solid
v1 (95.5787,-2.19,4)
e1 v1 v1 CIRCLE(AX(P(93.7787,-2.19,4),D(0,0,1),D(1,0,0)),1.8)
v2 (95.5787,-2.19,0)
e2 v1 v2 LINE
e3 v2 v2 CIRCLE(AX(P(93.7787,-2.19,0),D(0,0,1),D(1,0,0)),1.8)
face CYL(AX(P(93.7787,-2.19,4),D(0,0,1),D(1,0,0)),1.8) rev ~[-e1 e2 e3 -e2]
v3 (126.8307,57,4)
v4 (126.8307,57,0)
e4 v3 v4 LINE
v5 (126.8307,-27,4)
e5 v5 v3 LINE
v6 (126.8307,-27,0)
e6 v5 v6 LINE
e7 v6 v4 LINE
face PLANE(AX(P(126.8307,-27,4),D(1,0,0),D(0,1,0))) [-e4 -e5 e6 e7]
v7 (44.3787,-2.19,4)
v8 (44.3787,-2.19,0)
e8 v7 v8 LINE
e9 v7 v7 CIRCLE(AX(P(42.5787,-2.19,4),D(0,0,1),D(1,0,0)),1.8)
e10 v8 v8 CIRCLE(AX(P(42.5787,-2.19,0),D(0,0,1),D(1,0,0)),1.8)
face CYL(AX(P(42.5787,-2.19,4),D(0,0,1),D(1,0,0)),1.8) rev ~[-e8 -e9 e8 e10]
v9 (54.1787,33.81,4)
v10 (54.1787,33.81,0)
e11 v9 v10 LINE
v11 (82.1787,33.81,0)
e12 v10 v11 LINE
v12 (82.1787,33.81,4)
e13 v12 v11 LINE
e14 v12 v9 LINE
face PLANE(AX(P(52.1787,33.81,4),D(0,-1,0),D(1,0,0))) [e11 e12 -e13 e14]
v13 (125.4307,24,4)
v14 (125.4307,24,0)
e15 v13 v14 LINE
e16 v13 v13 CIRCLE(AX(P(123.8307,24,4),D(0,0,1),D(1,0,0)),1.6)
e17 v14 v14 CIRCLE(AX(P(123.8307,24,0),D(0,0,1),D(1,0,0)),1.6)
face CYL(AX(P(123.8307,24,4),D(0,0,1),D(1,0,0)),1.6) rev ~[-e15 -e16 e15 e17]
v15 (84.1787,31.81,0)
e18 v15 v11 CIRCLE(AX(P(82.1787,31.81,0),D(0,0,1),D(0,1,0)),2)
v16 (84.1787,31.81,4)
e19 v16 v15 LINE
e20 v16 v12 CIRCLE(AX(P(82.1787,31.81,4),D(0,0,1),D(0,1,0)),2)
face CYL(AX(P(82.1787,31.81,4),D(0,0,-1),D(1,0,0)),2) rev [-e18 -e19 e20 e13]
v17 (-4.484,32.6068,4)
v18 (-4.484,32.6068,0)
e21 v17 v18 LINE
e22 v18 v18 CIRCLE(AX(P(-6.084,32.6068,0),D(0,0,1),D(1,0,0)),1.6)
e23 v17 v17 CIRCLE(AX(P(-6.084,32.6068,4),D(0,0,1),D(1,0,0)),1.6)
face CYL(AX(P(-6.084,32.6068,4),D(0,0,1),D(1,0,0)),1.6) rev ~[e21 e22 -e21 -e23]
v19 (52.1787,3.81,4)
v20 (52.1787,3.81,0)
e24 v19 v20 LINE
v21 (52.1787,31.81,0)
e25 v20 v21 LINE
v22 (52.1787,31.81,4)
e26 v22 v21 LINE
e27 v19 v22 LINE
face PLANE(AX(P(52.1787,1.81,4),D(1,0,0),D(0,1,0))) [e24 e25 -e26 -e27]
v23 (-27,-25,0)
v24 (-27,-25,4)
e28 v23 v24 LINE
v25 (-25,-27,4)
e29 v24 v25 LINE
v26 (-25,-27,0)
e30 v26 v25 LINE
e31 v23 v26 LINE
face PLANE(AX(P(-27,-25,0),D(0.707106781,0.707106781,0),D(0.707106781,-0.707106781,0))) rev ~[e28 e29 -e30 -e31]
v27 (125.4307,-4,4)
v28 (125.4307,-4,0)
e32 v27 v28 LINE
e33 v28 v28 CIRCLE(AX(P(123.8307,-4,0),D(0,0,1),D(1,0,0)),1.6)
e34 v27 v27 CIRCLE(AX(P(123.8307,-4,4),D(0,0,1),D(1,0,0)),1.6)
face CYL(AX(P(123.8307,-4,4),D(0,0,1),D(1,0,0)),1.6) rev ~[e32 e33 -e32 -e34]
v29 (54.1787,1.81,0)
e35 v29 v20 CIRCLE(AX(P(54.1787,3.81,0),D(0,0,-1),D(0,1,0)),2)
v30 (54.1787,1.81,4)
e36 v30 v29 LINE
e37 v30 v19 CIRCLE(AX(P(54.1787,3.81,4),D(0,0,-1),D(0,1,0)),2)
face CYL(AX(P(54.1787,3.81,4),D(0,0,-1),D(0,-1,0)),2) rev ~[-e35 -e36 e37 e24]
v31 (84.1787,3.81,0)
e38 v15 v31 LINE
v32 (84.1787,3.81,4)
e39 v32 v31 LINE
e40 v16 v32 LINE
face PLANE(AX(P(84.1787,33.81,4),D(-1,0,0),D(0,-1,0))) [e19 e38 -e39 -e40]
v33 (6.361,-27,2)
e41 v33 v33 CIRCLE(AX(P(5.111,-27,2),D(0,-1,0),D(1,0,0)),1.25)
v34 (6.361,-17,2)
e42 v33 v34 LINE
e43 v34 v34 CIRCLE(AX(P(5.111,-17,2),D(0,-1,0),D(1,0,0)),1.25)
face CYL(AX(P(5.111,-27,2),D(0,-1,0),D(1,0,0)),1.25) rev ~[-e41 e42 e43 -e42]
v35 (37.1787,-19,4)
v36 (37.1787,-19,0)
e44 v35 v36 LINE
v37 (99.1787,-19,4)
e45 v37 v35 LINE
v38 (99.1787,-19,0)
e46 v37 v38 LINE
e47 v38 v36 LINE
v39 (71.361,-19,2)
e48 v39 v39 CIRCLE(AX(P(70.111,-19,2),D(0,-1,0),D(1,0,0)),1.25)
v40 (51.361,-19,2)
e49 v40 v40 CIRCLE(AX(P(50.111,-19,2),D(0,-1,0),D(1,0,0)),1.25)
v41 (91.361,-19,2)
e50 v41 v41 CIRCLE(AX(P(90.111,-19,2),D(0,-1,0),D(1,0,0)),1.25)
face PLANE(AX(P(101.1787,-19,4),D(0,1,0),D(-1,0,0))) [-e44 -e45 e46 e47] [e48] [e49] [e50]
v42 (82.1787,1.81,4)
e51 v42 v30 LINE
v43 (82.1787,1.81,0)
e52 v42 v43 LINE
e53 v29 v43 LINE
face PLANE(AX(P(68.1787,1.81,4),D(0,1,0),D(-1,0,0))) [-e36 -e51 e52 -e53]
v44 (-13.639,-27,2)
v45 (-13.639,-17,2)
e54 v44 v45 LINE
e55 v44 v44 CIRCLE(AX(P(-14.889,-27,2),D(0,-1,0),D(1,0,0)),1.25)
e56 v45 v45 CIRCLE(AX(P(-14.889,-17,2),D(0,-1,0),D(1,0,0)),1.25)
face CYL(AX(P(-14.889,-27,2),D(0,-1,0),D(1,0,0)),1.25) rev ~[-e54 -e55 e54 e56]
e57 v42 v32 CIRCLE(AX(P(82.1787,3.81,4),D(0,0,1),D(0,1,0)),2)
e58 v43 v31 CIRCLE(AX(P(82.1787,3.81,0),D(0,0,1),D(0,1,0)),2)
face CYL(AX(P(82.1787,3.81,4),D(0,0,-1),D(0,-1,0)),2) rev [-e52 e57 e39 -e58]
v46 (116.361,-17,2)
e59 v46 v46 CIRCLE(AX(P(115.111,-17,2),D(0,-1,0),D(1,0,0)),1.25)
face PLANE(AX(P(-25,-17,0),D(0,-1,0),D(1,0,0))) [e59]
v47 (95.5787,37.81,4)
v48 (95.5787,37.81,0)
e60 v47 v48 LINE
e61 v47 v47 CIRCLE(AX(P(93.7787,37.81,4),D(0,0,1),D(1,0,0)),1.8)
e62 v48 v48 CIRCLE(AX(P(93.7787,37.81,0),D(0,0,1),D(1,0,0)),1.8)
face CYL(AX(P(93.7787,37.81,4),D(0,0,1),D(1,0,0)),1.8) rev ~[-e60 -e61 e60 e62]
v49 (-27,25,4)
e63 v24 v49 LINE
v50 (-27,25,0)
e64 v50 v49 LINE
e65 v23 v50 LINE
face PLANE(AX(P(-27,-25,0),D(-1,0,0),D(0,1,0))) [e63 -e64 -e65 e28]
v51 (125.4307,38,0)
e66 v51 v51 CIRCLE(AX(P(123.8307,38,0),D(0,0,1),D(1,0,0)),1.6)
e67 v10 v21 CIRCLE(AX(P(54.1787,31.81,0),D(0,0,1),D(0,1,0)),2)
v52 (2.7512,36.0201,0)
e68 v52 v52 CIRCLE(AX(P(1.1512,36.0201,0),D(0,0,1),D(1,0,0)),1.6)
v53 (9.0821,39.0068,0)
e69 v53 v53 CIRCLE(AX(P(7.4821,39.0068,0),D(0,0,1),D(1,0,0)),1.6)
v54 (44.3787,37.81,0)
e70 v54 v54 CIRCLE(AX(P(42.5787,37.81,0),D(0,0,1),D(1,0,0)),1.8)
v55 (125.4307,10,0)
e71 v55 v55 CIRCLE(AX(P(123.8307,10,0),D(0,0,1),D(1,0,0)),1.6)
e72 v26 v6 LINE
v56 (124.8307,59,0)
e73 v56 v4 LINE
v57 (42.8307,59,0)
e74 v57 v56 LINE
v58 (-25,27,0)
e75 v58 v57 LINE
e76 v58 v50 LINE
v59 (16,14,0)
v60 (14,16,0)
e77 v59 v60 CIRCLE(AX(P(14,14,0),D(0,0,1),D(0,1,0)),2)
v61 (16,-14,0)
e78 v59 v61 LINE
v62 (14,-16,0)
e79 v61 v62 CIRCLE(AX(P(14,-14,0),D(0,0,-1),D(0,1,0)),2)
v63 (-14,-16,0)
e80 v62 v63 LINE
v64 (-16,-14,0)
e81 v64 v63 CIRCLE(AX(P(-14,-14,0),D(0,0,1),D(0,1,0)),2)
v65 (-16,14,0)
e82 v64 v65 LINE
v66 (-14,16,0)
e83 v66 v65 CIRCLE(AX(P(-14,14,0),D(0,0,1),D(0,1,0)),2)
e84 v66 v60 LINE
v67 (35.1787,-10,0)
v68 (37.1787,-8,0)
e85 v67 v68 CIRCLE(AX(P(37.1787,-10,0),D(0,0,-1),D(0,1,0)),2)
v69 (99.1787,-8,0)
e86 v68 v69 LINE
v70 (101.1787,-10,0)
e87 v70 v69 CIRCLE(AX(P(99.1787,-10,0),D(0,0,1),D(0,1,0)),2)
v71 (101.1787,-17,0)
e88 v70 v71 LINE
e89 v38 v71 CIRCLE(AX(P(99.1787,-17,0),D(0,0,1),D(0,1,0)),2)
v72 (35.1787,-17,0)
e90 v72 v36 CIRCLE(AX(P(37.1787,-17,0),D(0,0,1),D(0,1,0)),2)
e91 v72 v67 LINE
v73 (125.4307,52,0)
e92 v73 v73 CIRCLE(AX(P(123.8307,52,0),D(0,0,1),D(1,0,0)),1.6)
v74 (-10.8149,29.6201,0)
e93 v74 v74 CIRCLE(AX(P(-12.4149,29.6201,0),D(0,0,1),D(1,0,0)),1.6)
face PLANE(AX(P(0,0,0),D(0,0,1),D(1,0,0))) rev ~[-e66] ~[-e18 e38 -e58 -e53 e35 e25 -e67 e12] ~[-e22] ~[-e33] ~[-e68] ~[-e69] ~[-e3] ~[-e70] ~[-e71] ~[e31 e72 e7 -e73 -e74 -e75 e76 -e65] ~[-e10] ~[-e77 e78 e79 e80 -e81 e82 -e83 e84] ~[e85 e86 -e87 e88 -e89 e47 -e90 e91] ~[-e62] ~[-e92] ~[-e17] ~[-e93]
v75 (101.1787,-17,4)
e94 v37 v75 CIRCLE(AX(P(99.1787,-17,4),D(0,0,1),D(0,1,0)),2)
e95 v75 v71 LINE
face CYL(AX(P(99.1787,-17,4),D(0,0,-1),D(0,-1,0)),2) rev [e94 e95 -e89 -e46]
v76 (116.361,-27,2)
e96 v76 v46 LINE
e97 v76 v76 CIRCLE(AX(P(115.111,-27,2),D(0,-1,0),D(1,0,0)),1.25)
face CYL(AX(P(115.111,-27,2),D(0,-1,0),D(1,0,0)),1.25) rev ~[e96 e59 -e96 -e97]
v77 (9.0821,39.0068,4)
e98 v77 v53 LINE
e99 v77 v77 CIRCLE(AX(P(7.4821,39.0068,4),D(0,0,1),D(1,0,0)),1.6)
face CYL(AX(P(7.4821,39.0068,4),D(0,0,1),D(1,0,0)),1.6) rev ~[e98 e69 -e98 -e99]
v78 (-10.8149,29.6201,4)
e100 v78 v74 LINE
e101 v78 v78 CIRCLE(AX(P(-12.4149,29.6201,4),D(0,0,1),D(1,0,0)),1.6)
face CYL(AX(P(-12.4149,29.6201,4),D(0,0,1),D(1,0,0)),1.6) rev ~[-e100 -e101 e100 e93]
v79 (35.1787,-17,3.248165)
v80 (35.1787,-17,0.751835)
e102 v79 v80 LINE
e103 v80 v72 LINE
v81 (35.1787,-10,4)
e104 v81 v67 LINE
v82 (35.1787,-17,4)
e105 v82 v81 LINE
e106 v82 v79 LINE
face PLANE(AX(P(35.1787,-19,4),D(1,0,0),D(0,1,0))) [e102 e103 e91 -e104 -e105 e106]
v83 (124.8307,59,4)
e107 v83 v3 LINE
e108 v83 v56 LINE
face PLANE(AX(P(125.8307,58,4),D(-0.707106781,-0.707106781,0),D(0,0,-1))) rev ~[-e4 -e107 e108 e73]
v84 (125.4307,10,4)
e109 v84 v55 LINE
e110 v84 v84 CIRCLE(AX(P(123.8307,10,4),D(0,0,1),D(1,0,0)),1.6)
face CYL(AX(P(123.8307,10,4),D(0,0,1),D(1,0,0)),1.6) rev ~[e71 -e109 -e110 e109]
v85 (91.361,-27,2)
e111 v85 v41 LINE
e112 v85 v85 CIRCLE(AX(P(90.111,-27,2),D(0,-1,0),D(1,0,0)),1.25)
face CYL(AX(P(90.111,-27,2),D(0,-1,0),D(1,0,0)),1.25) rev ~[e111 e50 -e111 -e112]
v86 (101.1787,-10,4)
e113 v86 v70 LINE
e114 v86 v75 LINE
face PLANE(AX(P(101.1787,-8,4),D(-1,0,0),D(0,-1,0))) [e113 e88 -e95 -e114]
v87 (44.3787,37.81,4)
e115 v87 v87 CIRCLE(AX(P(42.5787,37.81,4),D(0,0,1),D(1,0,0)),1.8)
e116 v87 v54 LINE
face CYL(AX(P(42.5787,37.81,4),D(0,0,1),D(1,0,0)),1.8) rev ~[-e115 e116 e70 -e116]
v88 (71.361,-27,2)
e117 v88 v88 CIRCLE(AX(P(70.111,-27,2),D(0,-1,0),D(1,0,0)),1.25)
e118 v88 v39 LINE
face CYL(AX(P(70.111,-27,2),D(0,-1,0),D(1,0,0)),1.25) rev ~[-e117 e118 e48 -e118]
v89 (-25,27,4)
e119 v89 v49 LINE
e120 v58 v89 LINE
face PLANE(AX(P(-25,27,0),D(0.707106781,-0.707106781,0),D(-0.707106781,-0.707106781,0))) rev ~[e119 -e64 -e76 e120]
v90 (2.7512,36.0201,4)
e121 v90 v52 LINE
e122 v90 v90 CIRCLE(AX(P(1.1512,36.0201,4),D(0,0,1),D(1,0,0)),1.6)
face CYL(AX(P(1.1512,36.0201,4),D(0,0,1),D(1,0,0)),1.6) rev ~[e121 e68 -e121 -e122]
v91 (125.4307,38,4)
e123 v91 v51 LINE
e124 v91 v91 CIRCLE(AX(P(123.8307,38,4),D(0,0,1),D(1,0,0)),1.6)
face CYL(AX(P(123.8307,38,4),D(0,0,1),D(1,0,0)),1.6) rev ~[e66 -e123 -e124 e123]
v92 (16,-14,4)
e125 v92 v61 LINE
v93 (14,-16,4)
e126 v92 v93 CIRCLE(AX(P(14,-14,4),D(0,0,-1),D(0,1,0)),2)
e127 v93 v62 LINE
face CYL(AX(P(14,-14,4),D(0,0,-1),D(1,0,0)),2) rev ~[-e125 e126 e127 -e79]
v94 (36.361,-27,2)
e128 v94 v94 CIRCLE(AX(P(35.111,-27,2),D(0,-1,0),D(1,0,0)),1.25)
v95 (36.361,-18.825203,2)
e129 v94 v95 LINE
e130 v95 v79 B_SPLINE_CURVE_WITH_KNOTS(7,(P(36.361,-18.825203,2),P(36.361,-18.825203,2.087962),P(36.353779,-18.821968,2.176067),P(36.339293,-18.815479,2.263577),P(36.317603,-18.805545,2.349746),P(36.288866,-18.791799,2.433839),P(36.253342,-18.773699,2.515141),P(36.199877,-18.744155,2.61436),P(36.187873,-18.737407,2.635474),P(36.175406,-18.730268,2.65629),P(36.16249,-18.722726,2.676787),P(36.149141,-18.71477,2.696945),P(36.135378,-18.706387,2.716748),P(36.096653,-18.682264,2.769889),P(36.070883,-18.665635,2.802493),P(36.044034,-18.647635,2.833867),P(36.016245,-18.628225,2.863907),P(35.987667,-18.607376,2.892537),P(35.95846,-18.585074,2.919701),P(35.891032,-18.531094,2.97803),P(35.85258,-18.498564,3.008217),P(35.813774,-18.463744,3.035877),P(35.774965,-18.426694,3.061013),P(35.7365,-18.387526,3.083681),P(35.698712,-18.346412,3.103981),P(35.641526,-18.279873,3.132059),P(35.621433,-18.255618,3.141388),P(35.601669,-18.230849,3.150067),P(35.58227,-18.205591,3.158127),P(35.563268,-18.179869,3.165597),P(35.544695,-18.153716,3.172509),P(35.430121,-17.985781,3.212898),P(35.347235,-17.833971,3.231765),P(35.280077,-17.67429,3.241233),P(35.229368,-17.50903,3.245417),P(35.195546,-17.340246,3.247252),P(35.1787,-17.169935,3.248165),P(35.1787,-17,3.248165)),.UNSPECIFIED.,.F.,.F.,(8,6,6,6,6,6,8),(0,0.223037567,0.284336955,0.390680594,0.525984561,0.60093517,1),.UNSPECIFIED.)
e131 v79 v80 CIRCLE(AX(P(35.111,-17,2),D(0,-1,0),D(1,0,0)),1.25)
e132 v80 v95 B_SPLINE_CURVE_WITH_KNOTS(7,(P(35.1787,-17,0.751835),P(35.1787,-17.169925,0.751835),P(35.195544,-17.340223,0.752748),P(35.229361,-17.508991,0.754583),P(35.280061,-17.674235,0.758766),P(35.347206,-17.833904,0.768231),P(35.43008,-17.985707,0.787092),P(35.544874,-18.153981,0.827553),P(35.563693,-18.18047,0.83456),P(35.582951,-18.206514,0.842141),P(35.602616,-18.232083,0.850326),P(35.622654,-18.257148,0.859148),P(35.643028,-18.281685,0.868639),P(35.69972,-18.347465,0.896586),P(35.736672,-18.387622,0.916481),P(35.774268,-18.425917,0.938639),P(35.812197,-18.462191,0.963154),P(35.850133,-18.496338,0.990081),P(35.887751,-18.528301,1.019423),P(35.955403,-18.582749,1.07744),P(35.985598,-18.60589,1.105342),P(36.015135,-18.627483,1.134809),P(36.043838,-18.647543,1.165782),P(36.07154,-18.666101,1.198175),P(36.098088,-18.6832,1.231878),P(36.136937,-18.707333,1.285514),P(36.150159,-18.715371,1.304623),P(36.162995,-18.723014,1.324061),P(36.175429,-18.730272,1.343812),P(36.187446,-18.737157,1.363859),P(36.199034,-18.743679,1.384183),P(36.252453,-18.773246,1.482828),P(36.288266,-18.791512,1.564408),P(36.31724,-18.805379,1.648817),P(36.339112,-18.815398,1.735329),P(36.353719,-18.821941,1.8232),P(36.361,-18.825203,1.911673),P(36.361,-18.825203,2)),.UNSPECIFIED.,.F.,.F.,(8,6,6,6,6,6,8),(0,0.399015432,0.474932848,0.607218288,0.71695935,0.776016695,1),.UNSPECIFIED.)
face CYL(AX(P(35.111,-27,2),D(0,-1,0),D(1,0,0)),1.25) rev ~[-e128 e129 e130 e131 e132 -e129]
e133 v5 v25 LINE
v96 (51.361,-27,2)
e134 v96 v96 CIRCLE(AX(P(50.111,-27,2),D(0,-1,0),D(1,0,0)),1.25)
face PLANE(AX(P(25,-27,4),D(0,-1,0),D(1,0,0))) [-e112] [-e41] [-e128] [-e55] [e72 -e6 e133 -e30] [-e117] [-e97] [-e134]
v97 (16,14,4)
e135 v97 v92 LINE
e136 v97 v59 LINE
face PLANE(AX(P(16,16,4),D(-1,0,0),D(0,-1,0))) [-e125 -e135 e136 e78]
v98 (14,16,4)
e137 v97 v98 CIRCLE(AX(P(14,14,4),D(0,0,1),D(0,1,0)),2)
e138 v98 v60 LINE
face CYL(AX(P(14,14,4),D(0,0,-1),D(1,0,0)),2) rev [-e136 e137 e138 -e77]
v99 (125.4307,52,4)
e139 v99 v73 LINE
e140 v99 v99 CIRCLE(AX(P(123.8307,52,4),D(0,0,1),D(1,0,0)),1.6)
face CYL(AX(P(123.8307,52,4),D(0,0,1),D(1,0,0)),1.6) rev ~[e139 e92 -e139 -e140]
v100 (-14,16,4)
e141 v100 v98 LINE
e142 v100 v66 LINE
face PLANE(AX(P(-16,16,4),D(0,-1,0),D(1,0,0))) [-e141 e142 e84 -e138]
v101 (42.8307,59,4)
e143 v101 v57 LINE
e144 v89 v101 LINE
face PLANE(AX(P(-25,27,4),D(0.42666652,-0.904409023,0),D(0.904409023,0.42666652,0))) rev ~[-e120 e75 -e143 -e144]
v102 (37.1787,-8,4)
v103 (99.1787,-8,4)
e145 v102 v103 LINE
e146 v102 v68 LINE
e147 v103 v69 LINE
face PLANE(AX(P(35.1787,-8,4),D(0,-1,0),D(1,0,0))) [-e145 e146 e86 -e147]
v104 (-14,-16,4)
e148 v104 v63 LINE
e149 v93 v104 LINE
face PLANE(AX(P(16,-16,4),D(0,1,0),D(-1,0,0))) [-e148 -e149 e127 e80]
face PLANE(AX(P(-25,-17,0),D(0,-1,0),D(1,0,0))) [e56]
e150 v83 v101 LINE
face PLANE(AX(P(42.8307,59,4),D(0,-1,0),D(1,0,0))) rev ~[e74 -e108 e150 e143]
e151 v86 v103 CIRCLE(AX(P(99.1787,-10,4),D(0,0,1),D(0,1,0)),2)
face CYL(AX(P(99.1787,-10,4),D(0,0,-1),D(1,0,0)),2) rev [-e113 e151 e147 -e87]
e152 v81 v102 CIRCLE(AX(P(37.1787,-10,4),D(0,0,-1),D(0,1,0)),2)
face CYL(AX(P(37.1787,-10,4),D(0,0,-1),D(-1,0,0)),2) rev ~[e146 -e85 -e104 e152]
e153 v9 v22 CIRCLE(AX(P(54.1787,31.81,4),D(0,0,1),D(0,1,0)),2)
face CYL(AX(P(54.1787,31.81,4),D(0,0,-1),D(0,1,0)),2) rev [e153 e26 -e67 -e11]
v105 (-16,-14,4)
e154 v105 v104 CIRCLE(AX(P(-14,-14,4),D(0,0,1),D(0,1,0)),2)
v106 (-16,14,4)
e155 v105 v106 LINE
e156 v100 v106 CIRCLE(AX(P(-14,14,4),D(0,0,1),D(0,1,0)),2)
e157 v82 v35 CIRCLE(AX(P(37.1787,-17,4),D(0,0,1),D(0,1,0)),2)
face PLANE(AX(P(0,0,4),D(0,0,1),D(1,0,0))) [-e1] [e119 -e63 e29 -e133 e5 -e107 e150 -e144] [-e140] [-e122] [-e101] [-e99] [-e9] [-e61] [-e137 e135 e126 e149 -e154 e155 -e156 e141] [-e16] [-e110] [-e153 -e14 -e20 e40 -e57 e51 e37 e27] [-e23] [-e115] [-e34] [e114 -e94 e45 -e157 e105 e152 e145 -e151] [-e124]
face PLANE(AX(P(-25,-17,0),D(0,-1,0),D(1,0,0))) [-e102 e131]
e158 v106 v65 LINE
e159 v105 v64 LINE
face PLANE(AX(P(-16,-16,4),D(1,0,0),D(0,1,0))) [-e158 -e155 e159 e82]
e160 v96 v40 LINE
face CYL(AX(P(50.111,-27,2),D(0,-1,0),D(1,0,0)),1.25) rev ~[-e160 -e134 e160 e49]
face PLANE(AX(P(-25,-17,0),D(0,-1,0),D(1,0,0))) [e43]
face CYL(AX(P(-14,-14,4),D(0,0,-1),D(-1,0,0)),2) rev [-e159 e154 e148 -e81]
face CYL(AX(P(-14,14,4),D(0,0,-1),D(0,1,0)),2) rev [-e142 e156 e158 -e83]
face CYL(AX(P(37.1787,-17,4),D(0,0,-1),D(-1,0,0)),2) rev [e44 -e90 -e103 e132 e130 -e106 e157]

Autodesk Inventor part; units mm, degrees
ref_plane "YZ Plane" through (0, 0, 0) normal (1, 0, 0) x (0, 1, 0)
ref_plane "XZ Plane" through (0, 0, 0) normal (0, 1, 0) x (-1, 0, 0)
ref_plane "XY Plane" through (0, 0, 0) normal (0, 0, 1) x (1, 0, 0)
sketch "스케치1" plane through (0, 0, 0) normal (0, 0, 1) x (1, 0, 0)
  line L0 (27, 25) -> (25, 27)
  line L1 (-25, 27) -> (25, 27)
  line L2 (-25, 27) -> (-27, 25)
  line L3 (-27, -25) -> (-27, 25)
  line L4 (-27, -25) -> (-25, -27)
  line L5 (25, -27) -> (-25, -27)
  line L6 (25, -27) -> (27, -25)
  line L7 (27, 25) -> (27, -25)
  circle A0 centre (24, 24) radius 1.5
  circle A1 centre (-24, 24) radius 1.5
  circle A2 centre (24, -24) radius 1.5
  circle A3 centre (-24, -24) radius 1.5
  line L8 (-22, 22) -> (22, 22)
  line L9 (22, 22) -> (22, -22)
  line L10 (22, -22) -> (-22, -22)
  line L11 (-22, -22) -> (-22, 22)
  line L12 (-22, 22) -> (-17, 22)
  line L13 (-17, 22) -> (-17, 17)
  line L14 (-17, 17) -> (-22, 17)
  line L15 (-22, 17) -> (-22, 22)
  line L16 (22, 22) -> (17, 22)
  line L17 (17, 22) -> (17, 17)
  line L18 (17, 17) -> (22, 17)
  line L19 (22, 17) -> (22, 22)
  line L20 (-22, -22) -> (-17, -22)
  line L21 (-17, -22) -> (-17, -17)
  line L22 (-17, -17) -> (-22, -17)
  line L23 (-22, -17) -> (-22, -22)
  line L24 (22, -22) -> (17, -22)
  line L25 (17, -22) -> (17, -17)
  line L26 (17, -17) -> (22, -17)
  line L27 (22, -17) -> (22, -22)
  circle A4 centre (-17, 17) radius 5
  circle A5 centre (17, 17) radius 5
  circle A6 centre (17, -17) radius 5
  circle A7 centre (-17, -17) radius 5
  line L28 (0, -22) -> (0, 22)
  line L29 (22, 0) -> (-22, 0)
  point P0 (0, 0)
  point P1 (0, 0)
  dimension "d0" = 5
  dimension "d1" = 5
  dimension "d2" = 5
  dimension "d3" = 5
  dimension "d4" = 5
  dimension "d5" = 5
  dimension "d6" = 5
  dimension "d7" = 5
extrude "돌출1" add sketch "스케치1" along normal blind 4
sketch "스케치3" plane through (0, 0, 4) normal (0, 0, 1) x (1, 0, 0)
  line L0 (27, -25) -> (27, 25) projected
  line L1 (27, 25) -> (25, 27) projected
  line L2 (25, 27) -> (-25, 27) projected
  line L3 (-25, 27) -> (-27, 25) projected
  line L4 (-27, 25) -> (-27, -25) projected
  line L5 (-27, -25) -> (-25, -27) projected
  line L6 (-25, -27) -> (25, -27) projected
  line L7 (25, -27) -> (27, -25) projected
  line L8 (22, 22) -> (22, -22) projected
  line L9 (22, -22) -> (-22, -22) projected
  line L10 (-22, -22) -> (-22, 22) projected
  line L11 (-22, 22) -> (22, 22) projected
  circle A0 centre (-24, -24) radius 1.5 projected
  circle A1 centre (24, -24) radius 1.5 projected
  circle A2 centre (24, 24) radius 1.5 projected
  circle A3 centre (-24, 24) radius 1.5 projected
  line L12 (45.8307, 54) -> (89.8307, 54)
  line L13 (42.8307, 59) -> (92.8307, 59)
  line L14 (45.8307, 54) -> (50.8307, 54)
  circle A4 centre (50.8307, 49) radius 5
  line L15 (50.8307, 49) -> (45.8307, 49)
  line L16 (45.8307, 49) -> (45.8307, 54)
  circle A5 centre (43.8307, 56) radius 1.5
  line L17 (42.8307, 59) -> (40.8307, 57)
  line L18 (45.8307, 10) -> (45.8307, 54)
  line L19 (40.8307, 7) -> (40.8307, 57)
  line L20 (50.8307, 54) -> (50.8307, 49)
  line L21 (40.8307, 7) -> (42.8307, 5)
  line L22 (92.8307, 5) -> (42.8307, 5)
  line L23 (92.8307, 5) -> (94.8307, 7)
  circle A6 centre (91.8307, 8) radius 1.5
  circle A7 centre (43.8307, 8) radius 1.5
  line L24 (89.8307, 10) -> (45.8307, 10)
  line L25 (84.8307, 15) -> (89.8307, 15)
  line L26 (89.8307, 10) -> (84.8307, 10)
  line L27 (89.8307, 15) -> (89.8307, 10)
  circle A8 centre (84.8307, 15) radius 5
  line L28 (50.8307, 10) -> (50.8307, 15)
  line L29 (50.8307, 15) -> (45.8307, 15)
  circle A9 centre (50.8307, 15) radius 5
  line L30 (45.8307, 10) -> (50.8307, 10)
  line L31 (45.8307, 15) -> (45.8307, 10)
  line L32 (84.8307, 10) -> (84.8307, 15)
  line L33 (94.8307, 57) -> (92.8307, 59)
  line L34 (89.8307, 54) -> (89.8307, 10)
  line L35 (94.8307, 57) -> (94.8307, 7)
  line L36 (84.8307, 54) -> (84.8307, 49)
  circle A10 centre (84.8307, 49) radius 5
  line L37 (84.8307, 49) -> (89.8307, 49)
  line L38 (89.8307, 54) -> (84.8307, 54)
  line L39 (89.8307, 49) -> (89.8307, 54)
  circle A11 centre (91.8307, 56) radius 1.5
  line L40 (45.8307, 32) -> (89.8307, 32)
  line L41 (67.8307, 54) -> (67.8307, 10)
  line L42 (0, 0) -> (67.8307, 32)
  line L43 (67.8307, 32) -> (67.8307, 0)
  line L44 (25, 27) -> (-25, 27) projected
  line L45 (-25, 27) -> (42.8307, 59)
  line L46 (-25, -27) -> (25, -27) projected
  line L47 (25, -27) -> (92.8307, 5)
  point P0 (67.8307, 32)
  point P1 (67.8307, 32)
  point P2 (89.8307, 49)
  point P3 (89.8307, 15)
  dimension "d41" = 5
  dimension "d42" = 5
  dimension "d43" = 5
  dimension "d44" = 5
  dimension "d45" = 5
  dimension "d46" = 5
  dimension "d47" = 5
  dimension "d48" = 5
  dimension "d49" = 5
  dimension "d50" = 24
  dimension "d51" = 48
  dimension "d52" = 48
  dimension "d53" = 48
  dimension "d54" = 75
  dimension "d55" = 32
extrude "돌출4" add sketch "스케치3" against normal blind 4 contours L0 L42 L19 L21 L22 L47 L7 | L0 L1 L2 L45 L17 L19 L42 | L42 L18 L24 L43 L22 L21 L19 | L19 L17 L13 L33 L35 L23 L22 L43 L24 L27 L34 L12 L16 L18 L42
sketch "스케치6" plane through (0, 0, 4) normal (0, 0, 1) x (1, 0, 0)
  circle A0 centre (43.8307, 8) radius 1.5 projected
  circle A1 centre (43.8307, 56) radius 1.5 projected
  circle A2 centre (91.8307, 8) radius 1.5 projected
  circle A3 centre (91.8307, 56) radius 1.5 projected
  line L0 (89.8307, 10) -> (45.8307, 10) projected
  line L1 (45.8307, 10) -> (45.8307, 54) projected
  line L2 (45.8307, 54) -> (89.8307, 54) projected
  line L3 (89.8307, 54) -> (89.8307, 10) projected
  line L4 (25, -27) -> (92.8307, 5) projected
  line L5 (92.8307, 5) -> (94.8307, 7) projected
  line L6 (94.8307, 7) -> (94.8307, 57) projected
  line L7 (94.8307, 57) -> (92.8307, 59) projected
  line L8 (92.8307, 59) -> (42.8307, 59) projected
  line L9 (42.8307, 59) -> (-25, 27) projected
  line L10 (-25, 27) -> (-27, 25) projected
  line L11 (-27, 25) -> (-27, -25) projected
  line L12 (-27, -25) -> (-25, -27) projected
  line L13 (-25, -27) -> (25, -27) projected
  line L14 (22, 22) -> (22, -22) projected
  line L15 (22, -22) -> (-22, -22) projected
  line L16 (-22, -22) -> (-22, 22) projected
  line L17 (-22, 22) -> (22, 22) projected
  circle A4 centre (-24, -24) radius 1.5 projected
  circle A5 centre (24, -24) radius 1.5 projected
  circle A6 centre (24, 24) radius 1.5 projected
  circle A7 centre (-24, 24) radius 1.5 projected
  line L18 (-25, -27) -> (25, -27) projected
  line L19 (25, -27) -> (94.8307, -27)
  line L20 (94.8307, -27) -> (94.8307, 7)
  point P0 (0, 0)
extrude "돌출5" add sketch "스케치6" against normal blind 4 contours L4 L5 L20 L19
sketch "스케치9" plane through (0, 0, 4) normal (0, 0, 1) x (1, 0, 0)
  circle A0 centre (43.8307, 8) radius 1.5 projected
  circle A1 centre (43.8307, 56) radius 1.5 projected
  circle A2 centre (91.8307, 8) radius 1.5 projected
  circle A3 centre (91.8307, 56) radius 1.5 projected
  line L0 (89.8307, 10) -> (45.8307, 10) projected
  line L1 (45.8307, 10) -> (45.8307, 54) projected
  line L2 (45.8307, 54) -> (89.8307, 54) projected
  line L3 (89.8307, 54) -> (89.8307, 10) projected
  line L4 (94.8307, -27) -> (94.8307, 57) projected
  line L5 (94.8307, 57) -> (92.8307, 59) projected
  line L6 (92.8307, 59) -> (42.8307, 59) projected
  line L7 (42.8307, 59) -> (-25, 27) projected
  line L8 (-25, 27) -> (-27, 25) projected
  line L9 (-27, 25) -> (-27, -25) projected
  line L10 (-27, -25) -> (-25, -27) projected
  line L11 (-25, -27) -> (94.8307, -27) projected
  line L12 (22, 22) -> (22, -22) projected
  line L13 (22, -22) -> (-22, -22) projected
  line L14 (-22, -22) -> (-22, 22) projected
  line L15 (-22, 22) -> (22, 22) projected
  circle A4 centre (-24, -24) radius 1.5 projected
  circle A5 centre (24, -24) radius 1.5 projected
  circle A6 centre (24, 24) radius 1.5 projected
  circle A7 centre (-24, 24) radius 1.5 projected
  line L16 (94.8307, 57) -> (94.8307, -27) projected
  line L17 (94.8307, -27) -> (126.8307, -27)
  line L18 (126.8307, -27) -> (126.8307, 59)
  line L19 (126.8307, 59) -> (94.8307, 59)
  line L20 (94.8307, 59) -> (94.8307, -27)
  line L21 (94.8307, 59) -> (92.8307, 59)
  point P0 (0, 0)
  dimension "d60" = 32
extrude "돌출6" add sketch "스케치9" against normal blind 4 contours L4 L20 L19 L18 L17 | L5 L21 L20
sketch "스케치10" plane through (0, 0, 4) normal (0, 0, 1) x (1, 0, 0)
  line L0 (-25, 27) -> (42.8307, 59) projected
  line L1 (-25, 27) -> (-20.0258, 29.3467)
  line L2 (-20.0258, 29.3467) -> (-17.4658, 23.9202)
  line L3 (-17.4658, 23.9202) -> (15.093, 39.2802)
  line L4 (15.093, 39.2802) -> (12.533, 44.7067)
  line L5 (-18.7458, 26.6334) -> (13.813, 41.9934) construction
  circle A0 centre (-12.4149, 29.6201) radius 1.6
  circle A1 centre (-6.084, 32.6068) radius 1.6
  circle A2 centre (1.1512, 36.0201) radius 1.6
  circle A3 centre (7.4821, 39.0068) radius 1.6
  point P0 (0, 0)
  dimension "d63" = 5.5
  dimension "d64" = 6
  dimension "d65" = 90
  dimension "d66" = 36
  dimension "d68" = 3.2
  dimension "d69" = 3.2
  dimension "d70" = 3.2
  dimension "d71" = 3.2
  dimension "d72" = 7
  dimension "d73" = 7
  dimension "d74" = 7
  dimension "d75" = 7
extrude "돌출7" cut sketch "스케치10" against normal blind 4 contours A0 | A1 | A2 | A3
fillet "모깎기1" radius 6 8 edges at (45.8307, 10, 2) (45.8307, 54, 2) (89.8307, 54, 2) (89.8307, 10, 2) (22, 22, 2) (22, -22, 2) (-22, -22, 2) (-22, 22, 2)
sketch "스케치11" plane through (0, 0, 4) normal (0, 0, 1) x (1, 0, 0)
  circle A0 centre (1.1512, 36.0201) radius 1.6 projected
  circle A1 centre (-6.084, 32.6068) radius 1.6 projected
  circle A2 centre (7.4821, 39.0068) radius 1.6 projected
  circle A3 centre (-12.4149, 29.6201) radius 1.6 projected
  circle A4 centre (43.8307, 8) radius 1.5 projected
  circle A5 centre (43.8307, 56) radius 1.5 projected
  circle A6 centre (91.8307, 8) radius 1.5 projected
  circle A7 centre (91.8307, 56) radius 1.5 projected
  line L0 (83.8307, 10) -> (51.8307, 10) projected
  arc A8 (45.8307, 16) -> (51.8307, 10) centre (51.8307, 16) ccw projected
  line L1 (45.8307, 16) -> (45.8307, 48) projected
  arc A9 (51.8307, 54) -> (45.8307, 48) centre (51.8307, 48) ccw projected
  line L2 (51.8307, 54) -> (83.8307, 54) projected
  arc A10 (89.8307, 48) -> (83.8307, 54) centre (83.8307, 48) ccw projected
  line L3 (89.8307, 48) -> (89.8307, 16) projected
  arc A11 (83.8307, 10) -> (89.8307, 16) centre (83.8307, 16) ccw projected
  line L4 (126.8307, 59) -> (42.8307, 59) projected
  line L5 (42.8307, 59) -> (-25, 27) projected
  line L6 (-25, 27) -> (-27, 25) projected
  line L7 (-27, 25) -> (-27, -25) projected
  line L8 (-27, -25) -> (-25, -27) projected
  line L9 (-25, -27) -> (126.8307, -27) projected
  line L10 (126.8307, -27) -> (126.8307, 59) projected
  line L11 (22, 16) -> (22, -16) projected
  arc A12 (16, -22) -> (22, -16) centre (16, -16) ccw projected
  line L12 (16, -22) -> (-16, -22) projected
  arc A13 (-22, -16) -> (-16, -22) centre (-16, -16) ccw projected
  line L13 (-22, -16) -> (-22, 16) projected
  arc A14 (-16, 22) -> (-22, 16) centre (-16, 16) ccw projected
  line L14 (-16, 22) -> (16, 22) projected
  arc A15 (22, 16) -> (16, 22) centre (16, 16) ccw projected
  circle A16 centre (-24, -24) radius 1.5 projected
  circle A17 centre (24, -24) radius 1.5 projected
  circle A18 centre (24, 24) radius 1.5 projected
  circle A19 centre (-24, 24) radius 1.5 projected
  line L15 (126.8307, 59) -> (120.8307, 59)
  line L16 (120.8307, 59) -> (120.8307, -11)
  line L17 (120.8307, -11) -> (126.8307, -11)
  line L18 (126.8307, -11) -> (126.8307, 59)
  line L19 (126.8307, 59) -> (42.8307, 59) projected
  line L20 (123.8307, 59) -> (123.8307, -11) construction
  circle A20 centre (123.8307, 52) radius 1.6
  circle A21 centre (123.8307, 38) radius 1.6
  circle A22 centre (123.8307, 24) radius 1.6
  circle A23 centre (123.8307, 10) radius 1.6
  circle A24 centre (123.8307, -4) radius 1.6
  point P0 (0, 0)
  dimension "d79" = 6
  dimension "d80" = 70
  dimension "d81" = 3.2
  dimension "d82" = 3.2
  dimension "d83" = 3.2
  dimension "d84" = 3.2
  dimension "d85" = 3.2
  dimension "d86" = 7
  dimension "d87" = 14
  dimension "d88" = 7
  dimension "d89" = 14
  dimension "d90" = 14
extrude "돌출8" cut sketch "스케치11" against normal blind 4 contours A20 | A21 | A22 | A23 | A24
sketch "스케치12" plane through (0, 0, 4) normal (0, 0, 1) x (1, 0, 0)
  circle A0 centre (123.8307, 24) radius 1.6 projected
  circle A1 centre (123.8307, 10) radius 1.6 projected
  circle A2 centre (123.8307, 38) radius 1.6 projected
  circle A3 centre (123.8307, -4) radius 1.6 projected
  circle A4 centre (123.8307, 52) radius 1.6 projected
  circle A5 centre (1.1512, 36.0201) radius 1.6 projected
  circle A6 centre (-6.084, 32.6068) radius 1.6 projected
  circle A7 centre (7.4821, 39.0068) radius 1.6 projected
  circle A8 centre (-12.4149, 29.6201) radius 1.6 projected
  circle A9 centre (43.8307, 8) radius 1.5 projected
  circle A10 centre (43.8307, 56) radius 1.5 projected
  circle A11 centre (91.8307, 8) radius 1.5 projected
  circle A12 centre (91.8307, 56) radius 1.5 projected
  line L0 (83.8307, 10) -> (51.8307, 10) projected
  arc A13 (45.8307, 16) -> (51.8307, 10) centre (51.8307, 16) ccw projected
  line L1 (45.8307, 16) -> (45.8307, 48) projected
  arc A14 (51.8307, 54) -> (45.8307, 48) centre (51.8307, 48) ccw projected
  line L2 (51.8307, 54) -> (83.8307, 54) projected
  arc A15 (89.8307, 48) -> (83.8307, 54) centre (83.8307, 48) ccw projected
  line L3 (89.8307, 48) -> (89.8307, 16) projected
  arc A16 (83.8307, 10) -> (89.8307, 16) centre (83.8307, 16) ccw projected
  line L4 (126.8307, 59) -> (42.8307, 59) projected
  line L5 (42.8307, 59) -> (-25, 27) projected
  line L6 (-25, 27) -> (-27, 25) projected
  line L7 (-27, 25) -> (-27, -25) projected
  line L8 (-27, -25) -> (-25, -27) projected
  line L9 (-25, -27) -> (126.8307, -27) projected
  line L10 (126.8307, -27) -> (126.8307, 59) projected
  line L11 (22, 16) -> (22, -16) projected
  arc A17 (16, -22) -> (22, -16) centre (16, -16) ccw projected
  line L12 (16, -22) -> (-16, -22) projected
  arc A18 (-22, -16) -> (-16, -22) centre (-16, -16) ccw projected
  line L13 (-22, -16) -> (-22, 16) projected
  arc A19 (-16, 22) -> (-22, 16) centre (-16, 16) ccw projected
  line L14 (-16, 22) -> (16, 22) projected
  arc A20 (22, 16) -> (16, 22) centre (16, 16) ccw projected
  circle A21 centre (-24, -24) radius 1.5 projected
  circle A22 centre (24, -24) radius 1.5 projected
  circle A23 centre (24, 24) radius 1.5 projected
  circle A24 centre (-24, 24) radius 1.5 projected
  line L15 (126.8307, 59) -> (126.8307, -27) projected
  line L16 (126.8307, -27) -> (76.8307, -27)
  line L17 (99.3307, -7) -> (126.8307, -7)
  line L18 (126.8307, -7) -> (126.8307, -27)
  line L19 (76.8307, -7) -> (76.8307, -13)
  line L20 (46.8307, -5) -> (106.8307, -5)
  line L21 (106.8307, -5) -> (106.8307, -21)
  line L22 (106.8307, -21) -> (46.8307, -21)
  line L23 (46.8307, -21) -> (46.8307, -5)
  line L24 (46.8307, -5) -> (106.8307, -21) construction
  line L25 (106.8307, -5) -> (46.8307, -21) construction
  line L26 (76.8307, -27) -> (76.8307, -21)
  line L27 (76.8307, -13) -> (76.8307, -7)
  point P0 (0, 0)
  dimension "d93" = 50
  dimension "d94" = 20
  dimension "d95" = 6
  dimension "d96" = 60
  dimension "d97" = 16
extrude "돌출9" cut sketch "스케치12" against normal blind 4 contours L21 L22 L23 L20
fillet "모깎기2" radius 6 4 edges at (46.8307, -5, 2) (46.8307, -21, 2) (106.8307, -21, 2) (106.8307, -5, 2)
chamfer "모따기1" distance 2 angle 45 1 edges at (126.8307, 59, 2)
sketch "스케치15" plane through (0, 0, 4) normal (0, 0, 1) x (1, 0, 0)
  circle A0 centre (-24, 24) radius 1.5 projected
  circle A1 centre (24, 24) radius 1.5 projected
  circle A2 centre (24, -24) radius 1.5 projected
  circle A3 centre (-24, -24) radius 1.5 projected
  line L0 (22, 16) -> (22, -16) projected
  arc A4 (16, -22) -> (22, -16) centre (16, -16) ccw projected
  line L1 (16, -22) -> (-16, -22) projected
  arc A5 (-22, -16) -> (-16, -22) centre (-16, -16) ccw projected
  line L2 (-22, -16) -> (-22, 16) projected
  arc A6 (-16, 22) -> (-22, 16) centre (-16, 16) ccw projected
  line L3 (-16, 22) -> (16, 22) projected
  arc A7 (22, 16) -> (16, 22) centre (16, 16) ccw projected
  line L4 (124.8307, 59) -> (126.8307, 57) projected
  line L5 (124.8307, 59) -> (42.8307, 59) projected
  line L6 (42.8307, 59) -> (-25, 27) projected
  line L7 (-25, 27) -> (-27, 25) projected
  line L8 (-27, 25) -> (-27, -25) projected
  line L9 (-27, -25) -> (-25, -27) projected
  line L10 (-25, -27) -> (126.8307, -27) projected
  line L11 (126.8307, -27) -> (126.8307, 57) projected
  line L12 (83.8307, 10) -> (51.8307, 10) projected
  arc A8 (45.8307, 16) -> (51.8307, 10) centre (51.8307, 16) ccw projected
  line L13 (45.8307, 16) -> (45.8307, 48) projected
  arc A9 (51.8307, 54) -> (45.8307, 48) centre (51.8307, 48) ccw projected
  line L14 (51.8307, 54) -> (83.8307, 54) projected
  arc A10 (89.8307, 48) -> (83.8307, 54) centre (83.8307, 48) ccw projected
  line L15 (89.8307, 48) -> (89.8307, 16) projected
  arc A11 (83.8307, 10) -> (89.8307, 16) centre (83.8307, 16) ccw projected
  circle A12 centre (91.8307, 56) radius 1.5 projected
  circle A13 centre (91.8307, 8) radius 1.5 projected
  circle A14 centre (43.8307, 56) radius 1.5 projected
  circle A15 centre (43.8307, 8) radius 1.5 projected
  circle A16 centre (-12.4149, 29.6201) radius 1.6 projected
  circle A17 centre (7.4821, 39.0068) radius 1.6 projected
  circle A18 centre (-6.084, 32.6068) radius 1.6 projected
  circle A19 centre (1.1512, 36.0201) radius 1.6 projected
  circle A20 centre (123.8307, 52) radius 1.6 projected
  circle A21 centre (123.8307, -4) radius 1.6 projected
  circle A22 centre (123.8307, 38) radius 1.6 projected
  circle A23 centre (123.8307, 10) radius 1.6 projected
  circle A24 centre (123.8307, 24) radius 1.6 projected
  line L16 (100.8307, -21) -> (52.8307, -21) projected
  arc A25 (46.8307, -15) -> (52.8307, -21) centre (52.8307, -15) ccw projected
  line L17 (46.8307, -15) -> (46.8307, -11) projected
  arc A26 (52.8307, -5) -> (46.8307, -11) centre (52.8307, -11) ccw projected
  line L18 (52.8307, -5) -> (100.8307, -5) projected
  arc A27 (106.8307, -11) -> (100.8307, -5) centre (100.8307, -11) ccw projected
  line L19 (106.8307, -11) -> (106.8307, -15) projected
  arc A28 (100.8307, -21) -> (106.8307, -15) centre (100.8307, -15) ccw projected
  point P0 (0, 0)
extrude "돌출12" add sketch "스케치15" against normal blind 4 contours L0 A4 L1 A5 L2 A6 L3 A7 | L12 A8 L13 A9 L14 A10 L15 A11 | L16 A25 L17 A26 L18 A27 L19 A28
sketch "스케치16" plane through (0, 0, 4) normal (0, 0, 1) x (1, 0, 0)
  circle A0 centre (-24, 24) radius 1.5 projected
  circle A1 centre (24, 24) radius 1.5 projected
  circle A2 centre (24, -24) radius 1.5 projected
  circle A3 centre (-24, -24) radius 1.5 projected
  line L0 (124.8307, 59) -> (126.8307, 57) projected
  line L1 (124.8307, 59) -> (42.8307, 59) projected
  line L2 (42.8307, 59) -> (-25, 27) projected
  line L3 (-25, 27) -> (-27, 25) projected
  line L4 (-27, 25) -> (-27, -25) projected
  line L5 (-27, -25) -> (-25, -27) projected
  line L6 (-25, -27) -> (126.8307, -27) projected
  line L7 (126.8307, -27) -> (126.8307, 57) projected
  circle A4 centre (91.8307, 56) radius 1.5 projected
  circle A5 centre (91.8307, 8) radius 1.5 projected
  circle A6 centre (43.8307, 56) radius 1.5 projected
  circle A7 centre (43.8307, 8) radius 1.5 projected
  circle A8 centre (-12.4149, 29.6201) radius 1.6 projected
  circle A9 centre (7.4821, 39.0068) radius 1.6 projected
  circle A10 centre (-6.084, 32.6068) radius 1.6 projected
  circle A11 centre (1.1512, 36.0201) radius 1.6 projected
  circle A12 centre (123.8307, 52) radius 1.6 projected
  circle A13 centre (123.8307, -4) radius 1.6 projected
  circle A14 centre (123.8307, 38) radius 1.6 projected
  circle A15 centre (123.8307, 10) radius 1.6 projected
  circle A16 centre (123.8307, 24) radius 1.6 projected
  circle A17 centre (42.5787, 37.81) radius 1.8
  circle A18 centre (93.7787, 37.81) radius 1.8
  circle A19 centre (42.5787, -2.19) radius 1.8
  circle A20 centre (93.7787, -2.19) radius 1.8
  point P0 (0, 0)
  dimension "d128" = 3.6
  dimension "d129" = 3.6
  dimension "d130" = 51.2
  dimension "d131" = 3.6
  dimension "d132" = 3.6
  dimension "d133" = 40
  dimension "d134" = 33.052
  dimension "d137" = 21.19
extrude "돌출13" cut sketch "스케치16" against normal blind 4 contours A17 | A18 | A19 | A20
sketch "스케치17" plane through (0, 0, 4) normal (0, 0, 1) x (1, 0, 0)
  circle A0 centre (93.7787, -2.19) radius 1.8 projected
  circle A1 centre (93.7787, 37.81) radius 1.8 projected
  circle A2 centre (42.5787, -2.19) radius 1.8 projected
  circle A3 centre (42.5787, 37.81) radius 1.8 projected
  circle A4 centre (-24, 24) radius 1.5 projected
  circle A5 centre (24, 24) radius 1.5 projected
  circle A6 centre (24, -24) radius 1.5 projected
  circle A7 centre (-24, -24) radius 1.5 projected
  line L0 (124.8307, 59) -> (126.8307, 57) projected
  line L1 (124.8307, 59) -> (42.8307, 59) projected
  line L2 (42.8307, 59) -> (-25, 27) projected
  line L3 (-25, 27) -> (-27, 25) projected
  line L4 (-27, 25) -> (-27, -25) projected
  line L5 (-27, -25) -> (-25, -27) projected
  line L6 (-25, -27) -> (126.8307, -27) projected
  line L7 (126.8307, -27) -> (126.8307, 57) projected
  circle A8 centre (91.8307, 56) radius 1.5 projected
  circle A9 centre (91.8307, 8) radius 1.5 projected
  circle A10 centre (43.8307, 56) radius 1.5 projected
  circle A11 centre (43.8307, 8) radius 1.5 projected
  circle A12 centre (-12.4149, 29.6201) radius 1.6 projected
  circle A13 centre (7.4821, 39.0068) radius 1.6 projected
  circle A14 centre (-6.084, 32.6068) radius 1.6 projected
  circle A15 centre (1.1512, 36.0201) radius 1.6 projected
  circle A16 centre (123.8307, 52) radius 1.6 projected
  circle A17 centre (123.8307, -4) radius 1.6 projected
  circle A18 centre (123.8307, 38) radius 1.6 projected
  circle A19 centre (123.8307, 10) radius 1.6 projected
  circle A20 centre (123.8307, 24) radius 1.6 projected
  point P0 (0, 0)
extrude "돌출14" add sketch "스케치17" against normal blind 4 contours A4 | A5 | A6 | A7 | A8 | A9 | A10 | A11
sketch "스케치18" plane through (0, 0, 4) normal (0, 0, 1) x (1, 0, 0)
  circle A0 centre (93.7787, -2.19) radius 1.8 projected
  circle A1 centre (93.7787, 37.81) radius 1.8 projected
  circle A2 centre (42.5787, -2.19) radius 1.8 projected
  circle A3 centre (42.5787, 37.81) radius 1.8 projected
  line L0 (124.8307, 59) -> (126.8307, 57) projected
  line L1 (124.8307, 59) -> (42.8307, 59) projected
  line L2 (42.8307, 59) -> (-25, 27) projected
  line L3 (-25, 27) -> (-27, 25) projected
  line L4 (-27, 25) -> (-27, -25) projected
  line L5 (-27, -25) -> (-25, -27) projected
  line L6 (-25, -27) -> (126.8307, -27) projected
  line L7 (126.8307, -27) -> (126.8307, 57) projected
  circle A4 centre (-12.4149, 29.6201) radius 1.6 projected
  circle A5 centre (7.4821, 39.0068) radius 1.6 projected
  circle A6 centre (-6.084, 32.6068) radius 1.6 projected
  circle A7 centre (1.1512, 36.0201) radius 1.6 projected
  circle A8 centre (123.8307, 52) radius 1.6 projected
  circle A9 centre (123.8307, -4) radius 1.6 projected
  circle A10 centre (123.8307, 38) radius 1.6 projected
  circle A11 centre (123.8307, 10) radius 1.6 projected
  circle A12 centre (123.8307, 24) radius 1.6 projected
  circle A13 centre (42.5787, 37.81) radius 1.8 projected
  circle A14 centre (93.7787, 37.81) radius 1.8 projected
  line L8 (42.5787, 37.81) -> (93.7787, 37.81)
  line L9 (68.1787, 37.81) -> (68.1787, -2.19)
  circle A15 centre (42.5787, -2.19) radius 1.8 projected
  line L10 (93.7787, -2.19) -> (42.5787, -2.19)
  line L11 (52.1787, 33.81) -> (84.1787, 33.81)
  line L12 (84.1787, 33.81) -> (84.1787, 1.81)
  line L13 (84.1787, 1.81) -> (52.1787, 1.81)
  line L14 (52.1787, 1.81) -> (52.1787, 33.81)
  line L15 (52.1787, 33.81) -> (84.1787, 1.81) construction
  line L16 (84.1787, 33.81) -> (52.1787, 1.81) construction
  line L17 (-16, 16) -> (16, 16)
  line L18 (16, 16) -> (16, -16)
  line L19 (16, -16) -> (-16, -16)
  line L20 (-16, -16) -> (-16, 16)
  line L21 (-16, 16) -> (16, -16) construction
  line L22 (16, 16) -> (-16, -16) construction
  line L23 (52.1787, 33.81) -> (16, 16)
  line L24 (52.1787, 1.81) -> (16, -16)
  line L25 (35.1787, -8) -> (101.1787, -8)
  line L26 (101.1787, -8) -> (101.1787, -19)
  line L27 (101.1787, -19) -> (35.1787, -19)
  line L28 (35.1787, -19) -> (35.1787, -8)
  line L29 (35.1787, -8) -> (101.1787, -19) construction
  line L30 (101.1787, -8) -> (35.1787, -19) construction
  point P0 (0, 0)
  point P1 (68.1787, 17.81)
  point P2 (68.1787, -13.5)
  dimension "d140" = 32
  dimension "d141" = 32
  dimension "d142" = 32
  dimension "d143" = 32
  dimension "d146" = 66
  dimension "d147" = 11
  dimension "d148" = 8
extrude "돌출15" cut sketch "스케치18" against normal blind 4 contours L13 L14 L11 L9 | L9 L11 L12 L13 | L19 L20 L17 L18 | L25 L26 L27 L28
fillet "모깎기3" radius 2 12 edges at (16, 16, 2) (-16, 16, 2) (-16, -16, 2) (16, -16, 2) (84.1787, 1.81, 2) (84.1787, 33.81, 2) (52.1787, 33.81, 2) (52.1787, 1.81, 2) (35.1787, -19, 2) (35.1787, -8, 2) (101.1787, -8, 2) (101.1787, -19, 2)
sketch "스케치13" plane through (-25, -27, 0) normal (0, -1, 0) x (1, 0, 0)
  line L0 (-2, 0) -> (-2, 4) projected
  line L1 (-2, 2) -> (151.8307, 2) construction
  circle A0 centre (10.111, 2) radius 1.25
  circle A1 centre (30.111, 2) radius 1.25
  circle A2 centre (60.111, 2) radius 1.25
  circle A3 centre (75.111, 2) radius 1.25
  circle A4 centre (95.111, 2) radius 1.25
  circle A5 centre (115.111, 2) radius 1.25
  circle A6 centre (140.111, 2) radius 1.25
  point P0 (25, 0)
  dimension "d101" = 2.5
  dimension "d103" = 2.5
  dimension "d104" = 12.111
  dimension "d105" = 20
  dimension "d108" = 20
  dimension "d109" = 20
  dimension "d110" = 25
  dimension "d111" = 30
  dimension "d112" = 15
extrude "돌출10" cut sketch "스케치13" against normal blind 10
properties part number "사이드프레임2" material "알루미늄 6061"
